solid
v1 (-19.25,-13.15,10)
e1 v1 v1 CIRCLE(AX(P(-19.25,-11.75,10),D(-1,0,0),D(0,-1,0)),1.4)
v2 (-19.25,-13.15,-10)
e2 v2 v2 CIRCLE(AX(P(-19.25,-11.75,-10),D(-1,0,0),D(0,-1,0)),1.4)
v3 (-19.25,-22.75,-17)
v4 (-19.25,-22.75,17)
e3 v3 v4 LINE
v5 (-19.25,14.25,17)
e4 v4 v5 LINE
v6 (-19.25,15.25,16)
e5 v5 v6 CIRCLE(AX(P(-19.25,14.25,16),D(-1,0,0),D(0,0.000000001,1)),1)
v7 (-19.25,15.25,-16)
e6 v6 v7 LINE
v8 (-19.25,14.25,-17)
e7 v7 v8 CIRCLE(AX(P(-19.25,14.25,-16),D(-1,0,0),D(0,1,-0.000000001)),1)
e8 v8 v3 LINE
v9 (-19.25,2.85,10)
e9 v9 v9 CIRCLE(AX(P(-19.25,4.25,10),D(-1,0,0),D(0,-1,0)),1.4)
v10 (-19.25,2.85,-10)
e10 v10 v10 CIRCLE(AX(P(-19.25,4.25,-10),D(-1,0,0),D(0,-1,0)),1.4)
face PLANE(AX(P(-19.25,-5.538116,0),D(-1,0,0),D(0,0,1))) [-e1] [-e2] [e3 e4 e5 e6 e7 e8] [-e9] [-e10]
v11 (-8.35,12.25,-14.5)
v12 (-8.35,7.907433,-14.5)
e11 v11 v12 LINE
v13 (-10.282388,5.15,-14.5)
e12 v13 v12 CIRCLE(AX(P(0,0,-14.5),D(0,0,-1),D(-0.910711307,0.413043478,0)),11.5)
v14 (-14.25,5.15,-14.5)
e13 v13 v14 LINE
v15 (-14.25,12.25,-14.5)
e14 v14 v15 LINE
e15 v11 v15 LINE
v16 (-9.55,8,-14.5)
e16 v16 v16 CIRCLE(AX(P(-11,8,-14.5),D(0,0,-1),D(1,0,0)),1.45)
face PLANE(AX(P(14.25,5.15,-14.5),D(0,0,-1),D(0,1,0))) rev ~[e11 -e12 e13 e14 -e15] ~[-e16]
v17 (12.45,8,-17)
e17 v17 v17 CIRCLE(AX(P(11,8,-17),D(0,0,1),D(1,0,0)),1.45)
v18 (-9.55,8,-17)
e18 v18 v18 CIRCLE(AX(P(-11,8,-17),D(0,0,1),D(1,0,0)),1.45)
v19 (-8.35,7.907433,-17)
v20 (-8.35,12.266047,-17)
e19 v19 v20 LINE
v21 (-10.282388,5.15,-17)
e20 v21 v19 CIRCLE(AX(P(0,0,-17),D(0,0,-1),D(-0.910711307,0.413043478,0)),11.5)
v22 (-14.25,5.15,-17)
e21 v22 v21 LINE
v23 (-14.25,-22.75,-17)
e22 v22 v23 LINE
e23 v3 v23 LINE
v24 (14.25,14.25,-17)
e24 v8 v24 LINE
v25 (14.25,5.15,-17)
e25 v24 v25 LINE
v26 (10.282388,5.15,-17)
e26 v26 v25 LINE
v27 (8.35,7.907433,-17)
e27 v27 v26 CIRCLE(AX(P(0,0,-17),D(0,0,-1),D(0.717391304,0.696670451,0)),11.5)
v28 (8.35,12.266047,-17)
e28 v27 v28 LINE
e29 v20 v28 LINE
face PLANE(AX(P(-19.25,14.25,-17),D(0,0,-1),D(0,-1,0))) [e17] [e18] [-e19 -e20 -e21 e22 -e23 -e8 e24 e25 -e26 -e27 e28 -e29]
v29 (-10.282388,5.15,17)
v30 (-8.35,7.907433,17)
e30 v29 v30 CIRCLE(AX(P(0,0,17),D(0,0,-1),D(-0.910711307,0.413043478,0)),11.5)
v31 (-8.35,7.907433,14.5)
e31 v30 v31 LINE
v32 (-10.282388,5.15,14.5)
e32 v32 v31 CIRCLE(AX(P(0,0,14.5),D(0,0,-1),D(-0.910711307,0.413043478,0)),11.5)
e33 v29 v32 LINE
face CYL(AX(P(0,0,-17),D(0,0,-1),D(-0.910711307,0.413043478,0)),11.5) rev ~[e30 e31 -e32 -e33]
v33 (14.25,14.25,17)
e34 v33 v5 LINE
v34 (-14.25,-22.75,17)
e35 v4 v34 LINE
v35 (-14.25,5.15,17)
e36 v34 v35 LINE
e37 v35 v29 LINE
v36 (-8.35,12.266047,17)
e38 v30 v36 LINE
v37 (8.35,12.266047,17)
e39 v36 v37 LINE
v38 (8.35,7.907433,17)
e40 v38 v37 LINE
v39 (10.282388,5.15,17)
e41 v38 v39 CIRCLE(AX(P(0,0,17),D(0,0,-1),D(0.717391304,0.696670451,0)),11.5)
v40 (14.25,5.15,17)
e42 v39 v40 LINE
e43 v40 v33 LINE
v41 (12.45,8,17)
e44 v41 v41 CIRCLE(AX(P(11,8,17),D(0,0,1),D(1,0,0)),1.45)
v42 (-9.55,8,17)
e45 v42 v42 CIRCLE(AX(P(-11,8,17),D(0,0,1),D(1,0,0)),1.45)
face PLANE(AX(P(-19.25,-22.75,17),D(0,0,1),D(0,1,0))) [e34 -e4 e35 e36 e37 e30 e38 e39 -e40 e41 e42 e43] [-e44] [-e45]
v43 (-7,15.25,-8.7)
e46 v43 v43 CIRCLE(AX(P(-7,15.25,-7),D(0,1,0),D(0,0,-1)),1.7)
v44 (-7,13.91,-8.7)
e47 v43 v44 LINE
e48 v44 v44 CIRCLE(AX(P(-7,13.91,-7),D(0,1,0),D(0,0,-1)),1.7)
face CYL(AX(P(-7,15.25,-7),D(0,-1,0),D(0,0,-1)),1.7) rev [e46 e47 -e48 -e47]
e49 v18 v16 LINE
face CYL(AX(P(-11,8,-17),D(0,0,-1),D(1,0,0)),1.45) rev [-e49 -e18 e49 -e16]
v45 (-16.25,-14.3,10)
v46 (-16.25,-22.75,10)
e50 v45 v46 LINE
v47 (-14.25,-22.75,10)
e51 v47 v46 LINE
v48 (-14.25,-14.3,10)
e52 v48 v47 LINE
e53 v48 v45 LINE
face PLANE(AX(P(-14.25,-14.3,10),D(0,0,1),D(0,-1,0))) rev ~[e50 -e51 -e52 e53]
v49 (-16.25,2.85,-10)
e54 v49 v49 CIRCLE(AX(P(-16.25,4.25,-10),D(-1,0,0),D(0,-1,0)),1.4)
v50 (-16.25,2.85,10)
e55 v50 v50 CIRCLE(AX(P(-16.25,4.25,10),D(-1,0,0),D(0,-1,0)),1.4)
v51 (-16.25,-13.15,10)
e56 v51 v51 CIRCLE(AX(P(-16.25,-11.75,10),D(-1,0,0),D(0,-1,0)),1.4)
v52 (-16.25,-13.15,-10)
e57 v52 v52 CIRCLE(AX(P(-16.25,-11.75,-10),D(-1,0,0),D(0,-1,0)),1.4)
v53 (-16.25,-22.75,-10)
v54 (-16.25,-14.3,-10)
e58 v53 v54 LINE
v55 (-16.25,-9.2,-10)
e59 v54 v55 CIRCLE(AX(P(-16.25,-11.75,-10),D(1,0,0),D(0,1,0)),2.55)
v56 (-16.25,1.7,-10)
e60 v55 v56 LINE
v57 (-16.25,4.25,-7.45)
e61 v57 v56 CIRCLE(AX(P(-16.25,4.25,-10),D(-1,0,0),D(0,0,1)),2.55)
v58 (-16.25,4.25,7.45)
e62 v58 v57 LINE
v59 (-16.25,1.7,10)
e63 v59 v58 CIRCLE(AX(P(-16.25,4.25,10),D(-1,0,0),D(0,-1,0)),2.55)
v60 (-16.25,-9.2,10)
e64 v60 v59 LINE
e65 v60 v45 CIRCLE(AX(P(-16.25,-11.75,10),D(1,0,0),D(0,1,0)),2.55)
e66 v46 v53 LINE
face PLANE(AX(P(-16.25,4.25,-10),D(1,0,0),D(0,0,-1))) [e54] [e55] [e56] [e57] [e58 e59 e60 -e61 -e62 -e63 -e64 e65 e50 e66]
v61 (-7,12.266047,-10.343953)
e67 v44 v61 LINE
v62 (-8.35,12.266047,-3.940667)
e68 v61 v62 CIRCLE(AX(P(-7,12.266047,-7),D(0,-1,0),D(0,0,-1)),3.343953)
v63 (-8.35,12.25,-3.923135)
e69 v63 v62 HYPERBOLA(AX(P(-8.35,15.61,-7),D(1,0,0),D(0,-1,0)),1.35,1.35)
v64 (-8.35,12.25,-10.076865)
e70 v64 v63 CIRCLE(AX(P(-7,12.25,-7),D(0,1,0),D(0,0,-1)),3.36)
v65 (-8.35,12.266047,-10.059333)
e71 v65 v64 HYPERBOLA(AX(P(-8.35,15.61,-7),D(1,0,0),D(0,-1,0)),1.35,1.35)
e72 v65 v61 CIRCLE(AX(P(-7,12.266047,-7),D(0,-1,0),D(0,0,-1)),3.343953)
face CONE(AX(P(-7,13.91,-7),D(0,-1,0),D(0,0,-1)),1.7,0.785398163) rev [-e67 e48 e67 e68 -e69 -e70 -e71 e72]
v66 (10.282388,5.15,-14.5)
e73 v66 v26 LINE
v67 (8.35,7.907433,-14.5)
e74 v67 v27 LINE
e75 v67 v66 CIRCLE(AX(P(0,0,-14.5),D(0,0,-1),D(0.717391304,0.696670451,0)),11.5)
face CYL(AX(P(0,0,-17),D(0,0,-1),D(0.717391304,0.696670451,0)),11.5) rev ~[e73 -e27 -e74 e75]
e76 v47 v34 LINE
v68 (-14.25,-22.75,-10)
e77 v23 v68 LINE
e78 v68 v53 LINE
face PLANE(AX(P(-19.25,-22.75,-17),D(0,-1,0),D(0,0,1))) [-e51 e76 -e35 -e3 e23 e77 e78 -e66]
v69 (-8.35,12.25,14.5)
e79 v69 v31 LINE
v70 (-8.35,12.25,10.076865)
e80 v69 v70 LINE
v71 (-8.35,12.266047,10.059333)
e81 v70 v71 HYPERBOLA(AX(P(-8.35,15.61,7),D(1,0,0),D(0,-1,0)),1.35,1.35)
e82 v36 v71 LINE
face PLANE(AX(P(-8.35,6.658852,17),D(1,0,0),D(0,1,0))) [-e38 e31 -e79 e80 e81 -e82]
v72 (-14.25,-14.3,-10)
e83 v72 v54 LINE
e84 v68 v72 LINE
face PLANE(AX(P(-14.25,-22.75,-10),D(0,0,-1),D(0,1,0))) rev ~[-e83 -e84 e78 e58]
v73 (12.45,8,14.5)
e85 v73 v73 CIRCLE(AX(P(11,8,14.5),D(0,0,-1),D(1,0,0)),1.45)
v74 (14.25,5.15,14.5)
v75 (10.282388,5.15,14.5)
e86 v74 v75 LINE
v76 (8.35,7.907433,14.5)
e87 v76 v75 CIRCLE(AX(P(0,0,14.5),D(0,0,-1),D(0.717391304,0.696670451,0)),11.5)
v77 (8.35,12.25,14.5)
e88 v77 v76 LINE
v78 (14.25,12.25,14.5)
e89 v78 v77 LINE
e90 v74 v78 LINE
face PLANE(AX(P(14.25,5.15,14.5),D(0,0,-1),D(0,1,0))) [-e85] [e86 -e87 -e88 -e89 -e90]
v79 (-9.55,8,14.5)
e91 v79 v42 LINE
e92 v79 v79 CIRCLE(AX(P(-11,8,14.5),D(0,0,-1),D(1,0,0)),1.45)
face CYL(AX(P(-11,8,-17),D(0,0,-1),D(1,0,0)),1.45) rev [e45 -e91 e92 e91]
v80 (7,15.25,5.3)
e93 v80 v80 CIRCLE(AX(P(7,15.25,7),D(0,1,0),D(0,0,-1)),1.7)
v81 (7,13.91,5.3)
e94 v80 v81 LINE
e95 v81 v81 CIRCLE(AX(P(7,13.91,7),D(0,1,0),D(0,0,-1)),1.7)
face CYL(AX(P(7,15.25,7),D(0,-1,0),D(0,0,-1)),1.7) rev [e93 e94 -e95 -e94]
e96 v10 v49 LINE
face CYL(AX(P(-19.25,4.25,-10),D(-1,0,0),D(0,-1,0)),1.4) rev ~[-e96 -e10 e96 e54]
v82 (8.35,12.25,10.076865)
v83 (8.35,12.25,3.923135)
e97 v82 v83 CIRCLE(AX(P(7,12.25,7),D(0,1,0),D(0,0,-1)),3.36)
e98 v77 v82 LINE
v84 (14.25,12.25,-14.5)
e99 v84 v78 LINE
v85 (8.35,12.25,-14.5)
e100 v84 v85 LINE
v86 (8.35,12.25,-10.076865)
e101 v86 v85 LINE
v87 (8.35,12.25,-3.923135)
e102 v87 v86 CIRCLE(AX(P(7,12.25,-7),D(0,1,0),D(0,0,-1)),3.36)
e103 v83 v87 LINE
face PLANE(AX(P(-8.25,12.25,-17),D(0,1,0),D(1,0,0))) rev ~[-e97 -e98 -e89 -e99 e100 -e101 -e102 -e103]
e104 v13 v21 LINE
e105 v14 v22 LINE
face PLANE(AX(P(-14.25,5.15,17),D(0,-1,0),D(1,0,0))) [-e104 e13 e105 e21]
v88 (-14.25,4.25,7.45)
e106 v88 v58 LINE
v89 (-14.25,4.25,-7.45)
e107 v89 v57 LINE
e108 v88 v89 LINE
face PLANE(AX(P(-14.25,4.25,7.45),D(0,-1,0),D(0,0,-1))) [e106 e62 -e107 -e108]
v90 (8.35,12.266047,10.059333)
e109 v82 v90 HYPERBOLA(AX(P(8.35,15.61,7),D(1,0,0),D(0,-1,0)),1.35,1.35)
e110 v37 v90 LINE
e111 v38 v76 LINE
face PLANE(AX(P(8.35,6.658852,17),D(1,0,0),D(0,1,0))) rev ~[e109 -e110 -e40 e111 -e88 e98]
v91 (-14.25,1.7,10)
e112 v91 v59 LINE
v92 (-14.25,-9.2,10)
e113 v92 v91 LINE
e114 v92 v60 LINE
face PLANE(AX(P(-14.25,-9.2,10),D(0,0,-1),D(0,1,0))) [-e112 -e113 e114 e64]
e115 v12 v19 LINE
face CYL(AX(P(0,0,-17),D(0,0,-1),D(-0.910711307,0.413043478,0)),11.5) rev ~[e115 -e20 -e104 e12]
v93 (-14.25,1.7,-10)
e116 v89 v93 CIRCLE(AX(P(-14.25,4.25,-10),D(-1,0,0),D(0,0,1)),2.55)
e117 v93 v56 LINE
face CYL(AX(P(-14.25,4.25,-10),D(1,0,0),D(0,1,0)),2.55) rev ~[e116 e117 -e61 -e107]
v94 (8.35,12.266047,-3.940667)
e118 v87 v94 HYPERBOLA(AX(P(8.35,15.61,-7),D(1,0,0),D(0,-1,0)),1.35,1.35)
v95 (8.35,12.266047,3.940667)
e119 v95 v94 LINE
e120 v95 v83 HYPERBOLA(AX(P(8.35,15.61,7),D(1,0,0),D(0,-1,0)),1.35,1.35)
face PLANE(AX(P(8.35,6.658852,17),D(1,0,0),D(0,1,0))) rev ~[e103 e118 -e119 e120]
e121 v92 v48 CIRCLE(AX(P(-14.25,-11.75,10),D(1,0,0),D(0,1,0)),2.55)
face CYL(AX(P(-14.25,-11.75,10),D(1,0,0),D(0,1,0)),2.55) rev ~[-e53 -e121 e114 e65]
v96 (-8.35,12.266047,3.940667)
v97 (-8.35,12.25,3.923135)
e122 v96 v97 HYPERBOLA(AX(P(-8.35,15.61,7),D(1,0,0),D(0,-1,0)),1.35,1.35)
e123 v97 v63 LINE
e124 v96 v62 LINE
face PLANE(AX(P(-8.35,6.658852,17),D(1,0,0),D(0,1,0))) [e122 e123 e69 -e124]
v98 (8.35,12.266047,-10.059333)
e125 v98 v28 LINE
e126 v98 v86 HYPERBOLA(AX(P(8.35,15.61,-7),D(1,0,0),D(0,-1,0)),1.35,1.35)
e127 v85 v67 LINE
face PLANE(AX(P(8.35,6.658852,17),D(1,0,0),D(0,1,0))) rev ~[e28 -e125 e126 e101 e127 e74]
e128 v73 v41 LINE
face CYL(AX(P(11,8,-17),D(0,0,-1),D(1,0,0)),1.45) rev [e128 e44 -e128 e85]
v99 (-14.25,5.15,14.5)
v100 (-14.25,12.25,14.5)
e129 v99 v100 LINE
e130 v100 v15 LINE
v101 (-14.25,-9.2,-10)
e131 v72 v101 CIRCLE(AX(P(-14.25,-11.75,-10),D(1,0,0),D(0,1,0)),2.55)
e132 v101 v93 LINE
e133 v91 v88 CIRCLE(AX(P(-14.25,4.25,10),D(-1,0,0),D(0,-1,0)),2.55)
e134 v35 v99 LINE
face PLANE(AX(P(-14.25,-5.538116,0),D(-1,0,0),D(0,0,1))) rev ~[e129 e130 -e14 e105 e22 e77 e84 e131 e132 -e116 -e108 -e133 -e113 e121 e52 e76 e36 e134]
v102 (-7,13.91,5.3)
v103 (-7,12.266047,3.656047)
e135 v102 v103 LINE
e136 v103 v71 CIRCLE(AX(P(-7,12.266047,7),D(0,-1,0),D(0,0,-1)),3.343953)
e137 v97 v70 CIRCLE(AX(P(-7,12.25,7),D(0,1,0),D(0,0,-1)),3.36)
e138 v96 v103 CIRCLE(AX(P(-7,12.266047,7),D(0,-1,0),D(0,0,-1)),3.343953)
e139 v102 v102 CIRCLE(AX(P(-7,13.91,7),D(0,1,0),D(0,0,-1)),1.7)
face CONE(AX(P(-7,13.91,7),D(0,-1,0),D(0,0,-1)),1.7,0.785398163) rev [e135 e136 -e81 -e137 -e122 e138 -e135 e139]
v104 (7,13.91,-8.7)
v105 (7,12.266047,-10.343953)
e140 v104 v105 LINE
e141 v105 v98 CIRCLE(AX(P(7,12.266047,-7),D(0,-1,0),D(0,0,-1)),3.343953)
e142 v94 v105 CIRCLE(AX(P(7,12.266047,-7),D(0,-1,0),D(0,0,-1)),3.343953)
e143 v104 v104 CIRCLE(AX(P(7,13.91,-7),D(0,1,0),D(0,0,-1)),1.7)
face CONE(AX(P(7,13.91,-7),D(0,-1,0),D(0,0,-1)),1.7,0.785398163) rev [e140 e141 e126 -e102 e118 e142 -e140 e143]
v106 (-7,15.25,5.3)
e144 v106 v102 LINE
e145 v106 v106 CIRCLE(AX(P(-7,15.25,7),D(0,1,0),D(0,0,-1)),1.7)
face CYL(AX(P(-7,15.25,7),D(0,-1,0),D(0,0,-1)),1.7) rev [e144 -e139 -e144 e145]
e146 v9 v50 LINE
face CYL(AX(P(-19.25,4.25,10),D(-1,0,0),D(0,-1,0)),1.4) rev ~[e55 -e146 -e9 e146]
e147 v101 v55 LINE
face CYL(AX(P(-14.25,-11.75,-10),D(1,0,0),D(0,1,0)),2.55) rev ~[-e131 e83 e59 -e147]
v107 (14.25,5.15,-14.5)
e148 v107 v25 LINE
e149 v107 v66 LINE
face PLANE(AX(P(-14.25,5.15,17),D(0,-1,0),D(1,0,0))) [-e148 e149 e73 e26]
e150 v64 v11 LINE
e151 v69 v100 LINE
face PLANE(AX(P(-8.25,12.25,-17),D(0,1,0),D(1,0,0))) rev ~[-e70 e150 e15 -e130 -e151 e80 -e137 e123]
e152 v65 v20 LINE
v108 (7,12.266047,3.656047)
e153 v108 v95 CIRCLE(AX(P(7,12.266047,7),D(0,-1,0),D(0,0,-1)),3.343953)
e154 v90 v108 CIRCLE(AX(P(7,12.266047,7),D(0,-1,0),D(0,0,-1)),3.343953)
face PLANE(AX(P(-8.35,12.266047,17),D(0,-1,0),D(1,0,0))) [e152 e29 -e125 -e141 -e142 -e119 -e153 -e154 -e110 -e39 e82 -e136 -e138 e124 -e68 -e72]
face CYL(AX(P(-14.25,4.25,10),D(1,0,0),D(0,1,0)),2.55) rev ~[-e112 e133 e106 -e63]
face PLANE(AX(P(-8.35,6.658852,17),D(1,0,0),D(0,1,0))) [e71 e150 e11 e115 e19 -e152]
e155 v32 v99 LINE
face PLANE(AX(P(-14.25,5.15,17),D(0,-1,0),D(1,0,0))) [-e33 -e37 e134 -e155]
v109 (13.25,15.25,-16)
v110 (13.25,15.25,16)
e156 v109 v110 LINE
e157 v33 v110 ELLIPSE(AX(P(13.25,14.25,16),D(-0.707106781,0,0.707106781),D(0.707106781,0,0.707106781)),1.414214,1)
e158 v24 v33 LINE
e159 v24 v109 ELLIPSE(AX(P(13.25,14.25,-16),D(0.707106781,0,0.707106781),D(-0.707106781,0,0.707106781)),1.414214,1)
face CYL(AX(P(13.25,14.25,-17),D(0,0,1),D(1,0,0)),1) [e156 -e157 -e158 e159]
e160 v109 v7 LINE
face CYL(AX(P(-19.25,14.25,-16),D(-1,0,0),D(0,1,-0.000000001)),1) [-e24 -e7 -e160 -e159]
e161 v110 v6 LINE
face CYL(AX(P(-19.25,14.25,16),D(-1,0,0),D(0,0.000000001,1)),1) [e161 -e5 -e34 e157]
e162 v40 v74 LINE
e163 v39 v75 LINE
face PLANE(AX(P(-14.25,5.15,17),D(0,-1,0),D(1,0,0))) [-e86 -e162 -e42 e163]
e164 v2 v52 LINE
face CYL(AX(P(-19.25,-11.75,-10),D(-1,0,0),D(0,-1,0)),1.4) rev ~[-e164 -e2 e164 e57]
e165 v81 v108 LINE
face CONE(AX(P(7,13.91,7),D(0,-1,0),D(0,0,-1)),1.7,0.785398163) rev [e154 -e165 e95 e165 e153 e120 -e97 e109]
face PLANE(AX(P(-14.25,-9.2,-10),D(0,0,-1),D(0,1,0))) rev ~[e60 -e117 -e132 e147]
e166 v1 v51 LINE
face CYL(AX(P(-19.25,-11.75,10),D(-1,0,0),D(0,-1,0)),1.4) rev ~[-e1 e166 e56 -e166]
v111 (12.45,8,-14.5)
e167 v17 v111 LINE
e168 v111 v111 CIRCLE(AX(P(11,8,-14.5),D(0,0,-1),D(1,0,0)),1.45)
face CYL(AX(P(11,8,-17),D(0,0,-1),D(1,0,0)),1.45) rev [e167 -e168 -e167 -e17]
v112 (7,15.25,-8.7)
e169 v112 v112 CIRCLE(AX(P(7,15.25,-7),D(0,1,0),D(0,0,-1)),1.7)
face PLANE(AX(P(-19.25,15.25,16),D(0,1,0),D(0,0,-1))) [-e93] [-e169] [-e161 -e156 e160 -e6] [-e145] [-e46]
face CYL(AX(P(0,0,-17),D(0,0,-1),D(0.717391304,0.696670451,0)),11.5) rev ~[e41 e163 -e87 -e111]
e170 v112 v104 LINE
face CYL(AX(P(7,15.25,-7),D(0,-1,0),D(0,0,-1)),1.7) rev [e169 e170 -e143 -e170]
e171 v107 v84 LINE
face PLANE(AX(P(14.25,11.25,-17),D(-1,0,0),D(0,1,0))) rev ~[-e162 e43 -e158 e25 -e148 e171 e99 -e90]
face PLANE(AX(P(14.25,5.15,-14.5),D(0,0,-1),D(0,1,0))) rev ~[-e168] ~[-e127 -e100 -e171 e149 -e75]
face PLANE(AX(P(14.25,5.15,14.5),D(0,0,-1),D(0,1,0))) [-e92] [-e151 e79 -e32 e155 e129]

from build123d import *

# Parameters (mm, degrees)
BOSS_EXTRUDE7_DEPTH                            = 17
BOSS_EXTRUDE7_DEPTH_BACK                       = 17
SKETCH1_R                                      = 1.45
SKETCH34_W                                     = 28.4
SKETCH34_H                                     = 7.5
CUT_EXTRUDE11_DEPTH                            = 37.521397837
SKETCH35_R                                     = 5
CUT_EXTRUDE12_DEPTH                            = 25.542055741
CSK_FOR_M3_HEX_SOCKET_COUNTERSUNK_CA_2_COUNT   = 2
CSK_FOR_M3_HEX_SOCKET_COUNTERSUNK_CA_2_PITCH   = 16.5
CSK_FOR_M3_HEX_SOCKET_COUNTERSUNK_CA_3_COUNT   = 2
CSK_FOR_M3_HEX_SOCKET_COUNTERSUNK_CA_3_PITCH   = 18
CSK_FOR_M3_HEX_SOCKET_COUNTERSUNK_CA_4_COUNT   = 2
CSK_FOR_M3_HEX_SOCKET_COUNTERSUNK_CA_4_PITCH   = 24.418230894
FILLET5_R                                      = 1
SKETCH41_W                                     = 28.5
SKETCH41_H                                     = 0.4
CUT_EXTRUDE13_DEPTH                            = 40.895175147
BOSS_EXTRUDE8_START                            = 5
BOSS_EXTRUDE8_DEPTH                            = 5
SKETCH48_R                                     = 1.4
CUT_EXTRUDE14_DEPTH                            = 5
SKETCH49_R                                     = 2.55
CUT_EXTRUDE15_DEPTH                            = 2
SKETCH51_W                                     = 24.851878452
SKETCH51_H                                     = 29.94943361
BOSS_EXTRUDE9_DEPTH                            = 3
CSK_FOR_M3_HEX_SOCKET_COUNTERSUNK_CA_5_A_COUNT = 2
CSK_FOR_M3_HEX_SOCKET_COUNTERSUNK_CA_5_A_PITCH = 14
CSK_FOR_M3_HEX_SOCKET_COUNTERSUNK_CA_6_COUNT   = 2
CSK_FOR_M3_HEX_SOCKET_COUNTERSUNK_CA_6_PITCH   = 19.798989873
CSK_FOR_M3_HEX_SOCKET_COUNTERSUNK_CA_7_COUNT   = 2
CSK_FOR_M3_HEX_SOCKET_COUNTERSUNK_CA_7_PITCH   = 14
SKETCH54_W                                     = 20
SKETCH54_H                                     = 27
CUT_EXTRUDE20_DEPTH                            = 2
SKETCH55_W                                     = 29
SKETCH55_H                                     = 7.1
CUT_EXTRUDE21_DEPTH                            = 28.5
SKETCH56_W                                     = 16.7
SKETCH56_H                                     = 5.607195889
CUT_EXTRUDE22_DEPTH                            = 34


with BuildPart() as part:
    # Sketch1 → Boss-Extrude7 (new, two sides: drawn at the far end of the back side and taken through both)
    with BuildSketch(Plane.XY.offset(-BOSS_EXTRUDE7_DEPTH_BACK)):
        with BuildLine():
            Line((-14.25, 15.25), (-14.25, 4.75))
            Line((-14.25, 4.75), (-10.473180033, 4.75))
            ThreePointArc((-10.473180033, 4.75), (-9.502581542, 6.476954843), (-8.25, 8.011710179))
            Line((-8.25, 8.011710179), (-8.25, 12.25))
            Line((-8.25, 12.25), (8.25, 12.25))
            Line((8.25, 12.25), (8.25, 8.011710179))
            ThreePointArc((8.25, 8.011710179), (9.502581542, 6.476954843), (10.473180033, 4.75))
            Line((10.473180033, 4.75), (14.25, 4.75))
            Line((14.25, 4.75), (14.25, 15.25))
            Line((14.25, 15.25), (-14.25, 15.25))
        make_face()
        with Locations((11, 8)):
            Circle(SKETCH1_R, mode=Mode.SUBTRACT)
        with Locations((-11, 8)):
            Circle(SKETCH1_R, mode=Mode.SUBTRACT)
    extrude(amount=BOSS_EXTRUDE7_DEPTH + BOSS_EXTRUDE7_DEPTH_BACK)

    # Sketch34 → Cut-Extrude11 (cut, through all)
    with BuildSketch(Plane.ZY.offset(14.25)):
        with Locations((0, 8.5)):
            Rectangle(SKETCH34_W, SKETCH34_H)
    extrude(amount=-CUT_EXTRUDE11_DEPTH, mode=Mode.SUBTRACT)

    # Sketch35 → Cut-Extrude12 (cut, through all)
    with BuildSketch(Plane(origin=(0, 15.25, 0), x_dir=(1, 0, 0), z_dir=(0, 1, 0))):
        Circle(SKETCH35_R)
    extrude(amount=-CUT_EXTRUDE12_DEPTH, mode=Mode.SUBTRACT)

    # Sketch40 → CSK for M3 Hex Socket Countersunk Cap Sc (revolve, cut)
    with BuildSketch(Plane(origin=(-8.25, 12.25, 9), x_dir=(0, 0, -1), z_dir=(1, 0, 0))):
        Polygon((0, 0), (0, 3), (1.7, 3), (1.7, 1.66), (3.36, 0), align=None)
    csk_for_m3_hex_socket_countersunk_cap_sc = revolve(axis=Axis((-8.25, 5.9, 9), (0, 1, 0)), mode=Mode.SUBTRACT)

    # CSK for M3 Hex Socket Countersunk Ca 2: CSK for M3 Hex Socket Countersunk Cap Sc ×2
    with Locations(*[(i * CSK_FOR_M3_HEX_SOCKET_COUNTERSUNK_CA_2_PITCH, 0, 0) for i in range(1, CSK_FOR_M3_HEX_SOCKET_COUNTERSUNK_CA_2_COUNT)]):
        add(csk_for_m3_hex_socket_countersunk_cap_sc, mode=Mode.SUBTRACT)

    # CSK for M3 Hex Socket Countersunk Ca 3: CSK for M3 Hex Socket Countersunk Cap Sc ×2
    with Locations(*[(0, 0, -i * CSK_FOR_M3_HEX_SOCKET_COUNTERSUNK_CA_3_PITCH) for i in range(1, CSK_FOR_M3_HEX_SOCKET_COUNTERSUNK_CA_3_COUNT)]):
        add(csk_for_m3_hex_socket_countersunk_cap_sc, mode=Mode.SUBTRACT)

    # CSK for M3 Hex Socket Countersunk Ca 4: CSK for M3 Hex Socket Countersunk Cap Sc ×2
    with Locations(*[Vector(0.6757246285173466, 0, -0.7371541402007413) * (i * CSK_FOR_M3_HEX_SOCKET_COUNTERSUNK_CA_4_PITCH) for i in range(1, CSK_FOR_M3_HEX_SOCKET_COUNTERSUNK_CA_4_COUNT)]):
        add(csk_for_m3_hex_socket_countersunk_cap_sc, mode=Mode.SUBTRACT)

    # Fillet5
    fillet5_edges = [part.edges().sort_by_distance(p)[0] for p in [
        (14.25, 15.25, 0),
        (0, 15.25, -17),
        (0, 15.25, 17),
    ]]
    fillet(fillet5_edges, radius=FILLET5_R)

    # Sketch41 → Cut-Extrude13 (cut, through all)
    with BuildSketch(Plane.XY.offset(17)):
        with Locations((0, 4.95)):
            Rectangle(SKETCH41_W, SKETCH41_H)
    extrude(amount=-CUT_EXTRUDE13_DEPTH, mode=Mode.SUBTRACT)

    # Sketch46 → Boss-Extrude8 (add)
    with BuildSketch(Plane.ZY.offset(14.25).offset(BOSS_EXTRUDE8_START)):
        with BuildLine():
            ThreePointArc((17, 14.25), (16.707106781, 14.957106781), (16, 15.25))
            Line((16, 15.25), (-16, 15.25))
            ThreePointArc((-16, 15.25), (-16.707106781, 14.957106781), (-17, 14.25))
            Line((-17, 14.25), (-17, -22.75))
            Line((-17, -22.75), (17, -22.75))
            Line((17, -22.75), (17, 14.25))
        make_face()
    extrude(amount=-BOSS_EXTRUDE8_DEPTH)

    # Sketch48 → Cut-Extrude14 (cut)
    with BuildSketch(Plane.ZY.offset(19.25)):
        with Locations((-10, -11.75)):
            Circle(SKETCH48_R)
        with Locations((10, -11.75)):
            Circle(SKETCH48_R)
        with Locations((10, 4.25)):
            Circle(SKETCH48_R)
        with Locations((-10, 4.25)):
            Circle(SKETCH48_R)
    extrude(amount=-CUT_EXTRUDE14_DEPTH, mode=Mode.SUBTRACT)

    # Sketch49 → Cut-Extrude15 (cut)
    with BuildSketch(Plane(origin=(-14.25, 0, 0), x_dir=(0, 0, -1), z_dir=(1, 0, 0))):
        with Locations((-10, -11.75)):
            Circle(SKETCH49_R)
        with Locations((10, -11.75)):
            Circle(SKETCH49_R)
        with Locations((10, 4.25)):
            Circle(SKETCH49_R)
        with Locations((-10, 4.25)):
            Circle(SKETCH49_R)
    extrude(amount=-CUT_EXTRUDE15_DEPTH, mode=Mode.SUBTRACT)

    # Sketch51 → Boss-Extrude9 (add)
    with BuildSketch(Plane(origin=(0, 15.25, 0), x_dir=(1, 0, 0), z_dir=(0, 1, 0))):
        Rectangle(SKETCH51_W, SKETCH51_H)
    extrude(amount=-BOSS_EXTRUDE9_DEPTH)

    # Sketch53 → CSK for M3 Hex Socket Countersunk Ca 5 (revolve, cut)
    with BuildSketch(Plane(origin=(-7, 12.25, 7), x_dir=(0, 0, -1), z_dir=(1, 0, 0))):
        Polygon((0, 0), (0, 3), (1.7, 3), (1.7, 1.66), (3.36, 0), align=None)
    csk_for_m3_hex_socket_countersunk_ca_5 = revolve(axis=Axis((-7, 5.9, 7), (0, 1, 0)), mode=Mode.SUBTRACT)

    # CSK for M3 Hex Socket Countersunk Ca 5 a: CSK for M3 Hex Socket Countersunk Ca 5 ×2
    with Locations(*[(0, 0, -i * CSK_FOR_M3_HEX_SOCKET_COUNTERSUNK_CA_5_A_PITCH) for i in range(1, CSK_FOR_M3_HEX_SOCKET_COUNTERSUNK_CA_5_A_COUNT)]):
        add(csk_for_m3_hex_socket_countersunk_ca_5, mode=Mode.SUBTRACT)

    # CSK for M3 Hex Socket Countersunk Ca 6: CSK for M3 Hex Socket Countersunk Ca 5 ×2
    with Locations(*[Vector(0.7071067811865512, 0, -0.7071067811865438) * (i * CSK_FOR_M3_HEX_SOCKET_COUNTERSUNK_CA_6_PITCH) for i in range(1, CSK_FOR_M3_HEX_SOCKET_COUNTERSUNK_CA_6_COUNT)]):
        add(csk_for_m3_hex_socket_countersunk_ca_5, mode=Mode.SUBTRACT)

    # CSK for M3 Hex Socket Countersunk Ca 7: CSK for M3 Hex Socket Countersunk Ca 5 ×2
    with Locations(*[(i * CSK_FOR_M3_HEX_SOCKET_COUNTERSUNK_CA_7_PITCH, 0, 0) for i in range(1, CSK_FOR_M3_HEX_SOCKET_COUNTERSUNK_CA_7_COUNT)]):
        add(csk_for_m3_hex_socket_countersunk_ca_5, mode=Mode.SUBTRACT)

    # Sketch54 → Cut-Extrude20 (cut)
    with BuildSketch(Plane(origin=(-14.25, 0, 0), x_dir=(0, 0, -1), z_dir=(1, 0, 0))):
        with Locations((0, -9.25)):
            Rectangle(SKETCH54_W, SKETCH54_H)
    extrude(amount=-CUT_EXTRUDE20_DEPTH, mode=Mode.SUBTRACT)

    # Sketch55 → Cut-Extrude21 (cut)
    with BuildSketch(Plane(origin=(14.25, 0, 0), x_dir=(0, 0, -1), z_dir=(1, 0, 0))):
        with Locations((0, 8.7)):
            Rectangle(SKETCH55_W, SKETCH55_H)
    extrude(amount=-CUT_EXTRUDE21_DEPTH, mode=Mode.SUBTRACT)

    # Sketch56 → Cut-Extrude22 (cut)
    with BuildSketch(Plane.XY.offset(17)):
        with Locations((0, 9.462449483)):
            Rectangle(SKETCH56_W, SKETCH56_H)
    extrude(amount=-CUT_EXTRUDE22_DEPTH, mode=Mode.SUBTRACT)


solid = part.part
